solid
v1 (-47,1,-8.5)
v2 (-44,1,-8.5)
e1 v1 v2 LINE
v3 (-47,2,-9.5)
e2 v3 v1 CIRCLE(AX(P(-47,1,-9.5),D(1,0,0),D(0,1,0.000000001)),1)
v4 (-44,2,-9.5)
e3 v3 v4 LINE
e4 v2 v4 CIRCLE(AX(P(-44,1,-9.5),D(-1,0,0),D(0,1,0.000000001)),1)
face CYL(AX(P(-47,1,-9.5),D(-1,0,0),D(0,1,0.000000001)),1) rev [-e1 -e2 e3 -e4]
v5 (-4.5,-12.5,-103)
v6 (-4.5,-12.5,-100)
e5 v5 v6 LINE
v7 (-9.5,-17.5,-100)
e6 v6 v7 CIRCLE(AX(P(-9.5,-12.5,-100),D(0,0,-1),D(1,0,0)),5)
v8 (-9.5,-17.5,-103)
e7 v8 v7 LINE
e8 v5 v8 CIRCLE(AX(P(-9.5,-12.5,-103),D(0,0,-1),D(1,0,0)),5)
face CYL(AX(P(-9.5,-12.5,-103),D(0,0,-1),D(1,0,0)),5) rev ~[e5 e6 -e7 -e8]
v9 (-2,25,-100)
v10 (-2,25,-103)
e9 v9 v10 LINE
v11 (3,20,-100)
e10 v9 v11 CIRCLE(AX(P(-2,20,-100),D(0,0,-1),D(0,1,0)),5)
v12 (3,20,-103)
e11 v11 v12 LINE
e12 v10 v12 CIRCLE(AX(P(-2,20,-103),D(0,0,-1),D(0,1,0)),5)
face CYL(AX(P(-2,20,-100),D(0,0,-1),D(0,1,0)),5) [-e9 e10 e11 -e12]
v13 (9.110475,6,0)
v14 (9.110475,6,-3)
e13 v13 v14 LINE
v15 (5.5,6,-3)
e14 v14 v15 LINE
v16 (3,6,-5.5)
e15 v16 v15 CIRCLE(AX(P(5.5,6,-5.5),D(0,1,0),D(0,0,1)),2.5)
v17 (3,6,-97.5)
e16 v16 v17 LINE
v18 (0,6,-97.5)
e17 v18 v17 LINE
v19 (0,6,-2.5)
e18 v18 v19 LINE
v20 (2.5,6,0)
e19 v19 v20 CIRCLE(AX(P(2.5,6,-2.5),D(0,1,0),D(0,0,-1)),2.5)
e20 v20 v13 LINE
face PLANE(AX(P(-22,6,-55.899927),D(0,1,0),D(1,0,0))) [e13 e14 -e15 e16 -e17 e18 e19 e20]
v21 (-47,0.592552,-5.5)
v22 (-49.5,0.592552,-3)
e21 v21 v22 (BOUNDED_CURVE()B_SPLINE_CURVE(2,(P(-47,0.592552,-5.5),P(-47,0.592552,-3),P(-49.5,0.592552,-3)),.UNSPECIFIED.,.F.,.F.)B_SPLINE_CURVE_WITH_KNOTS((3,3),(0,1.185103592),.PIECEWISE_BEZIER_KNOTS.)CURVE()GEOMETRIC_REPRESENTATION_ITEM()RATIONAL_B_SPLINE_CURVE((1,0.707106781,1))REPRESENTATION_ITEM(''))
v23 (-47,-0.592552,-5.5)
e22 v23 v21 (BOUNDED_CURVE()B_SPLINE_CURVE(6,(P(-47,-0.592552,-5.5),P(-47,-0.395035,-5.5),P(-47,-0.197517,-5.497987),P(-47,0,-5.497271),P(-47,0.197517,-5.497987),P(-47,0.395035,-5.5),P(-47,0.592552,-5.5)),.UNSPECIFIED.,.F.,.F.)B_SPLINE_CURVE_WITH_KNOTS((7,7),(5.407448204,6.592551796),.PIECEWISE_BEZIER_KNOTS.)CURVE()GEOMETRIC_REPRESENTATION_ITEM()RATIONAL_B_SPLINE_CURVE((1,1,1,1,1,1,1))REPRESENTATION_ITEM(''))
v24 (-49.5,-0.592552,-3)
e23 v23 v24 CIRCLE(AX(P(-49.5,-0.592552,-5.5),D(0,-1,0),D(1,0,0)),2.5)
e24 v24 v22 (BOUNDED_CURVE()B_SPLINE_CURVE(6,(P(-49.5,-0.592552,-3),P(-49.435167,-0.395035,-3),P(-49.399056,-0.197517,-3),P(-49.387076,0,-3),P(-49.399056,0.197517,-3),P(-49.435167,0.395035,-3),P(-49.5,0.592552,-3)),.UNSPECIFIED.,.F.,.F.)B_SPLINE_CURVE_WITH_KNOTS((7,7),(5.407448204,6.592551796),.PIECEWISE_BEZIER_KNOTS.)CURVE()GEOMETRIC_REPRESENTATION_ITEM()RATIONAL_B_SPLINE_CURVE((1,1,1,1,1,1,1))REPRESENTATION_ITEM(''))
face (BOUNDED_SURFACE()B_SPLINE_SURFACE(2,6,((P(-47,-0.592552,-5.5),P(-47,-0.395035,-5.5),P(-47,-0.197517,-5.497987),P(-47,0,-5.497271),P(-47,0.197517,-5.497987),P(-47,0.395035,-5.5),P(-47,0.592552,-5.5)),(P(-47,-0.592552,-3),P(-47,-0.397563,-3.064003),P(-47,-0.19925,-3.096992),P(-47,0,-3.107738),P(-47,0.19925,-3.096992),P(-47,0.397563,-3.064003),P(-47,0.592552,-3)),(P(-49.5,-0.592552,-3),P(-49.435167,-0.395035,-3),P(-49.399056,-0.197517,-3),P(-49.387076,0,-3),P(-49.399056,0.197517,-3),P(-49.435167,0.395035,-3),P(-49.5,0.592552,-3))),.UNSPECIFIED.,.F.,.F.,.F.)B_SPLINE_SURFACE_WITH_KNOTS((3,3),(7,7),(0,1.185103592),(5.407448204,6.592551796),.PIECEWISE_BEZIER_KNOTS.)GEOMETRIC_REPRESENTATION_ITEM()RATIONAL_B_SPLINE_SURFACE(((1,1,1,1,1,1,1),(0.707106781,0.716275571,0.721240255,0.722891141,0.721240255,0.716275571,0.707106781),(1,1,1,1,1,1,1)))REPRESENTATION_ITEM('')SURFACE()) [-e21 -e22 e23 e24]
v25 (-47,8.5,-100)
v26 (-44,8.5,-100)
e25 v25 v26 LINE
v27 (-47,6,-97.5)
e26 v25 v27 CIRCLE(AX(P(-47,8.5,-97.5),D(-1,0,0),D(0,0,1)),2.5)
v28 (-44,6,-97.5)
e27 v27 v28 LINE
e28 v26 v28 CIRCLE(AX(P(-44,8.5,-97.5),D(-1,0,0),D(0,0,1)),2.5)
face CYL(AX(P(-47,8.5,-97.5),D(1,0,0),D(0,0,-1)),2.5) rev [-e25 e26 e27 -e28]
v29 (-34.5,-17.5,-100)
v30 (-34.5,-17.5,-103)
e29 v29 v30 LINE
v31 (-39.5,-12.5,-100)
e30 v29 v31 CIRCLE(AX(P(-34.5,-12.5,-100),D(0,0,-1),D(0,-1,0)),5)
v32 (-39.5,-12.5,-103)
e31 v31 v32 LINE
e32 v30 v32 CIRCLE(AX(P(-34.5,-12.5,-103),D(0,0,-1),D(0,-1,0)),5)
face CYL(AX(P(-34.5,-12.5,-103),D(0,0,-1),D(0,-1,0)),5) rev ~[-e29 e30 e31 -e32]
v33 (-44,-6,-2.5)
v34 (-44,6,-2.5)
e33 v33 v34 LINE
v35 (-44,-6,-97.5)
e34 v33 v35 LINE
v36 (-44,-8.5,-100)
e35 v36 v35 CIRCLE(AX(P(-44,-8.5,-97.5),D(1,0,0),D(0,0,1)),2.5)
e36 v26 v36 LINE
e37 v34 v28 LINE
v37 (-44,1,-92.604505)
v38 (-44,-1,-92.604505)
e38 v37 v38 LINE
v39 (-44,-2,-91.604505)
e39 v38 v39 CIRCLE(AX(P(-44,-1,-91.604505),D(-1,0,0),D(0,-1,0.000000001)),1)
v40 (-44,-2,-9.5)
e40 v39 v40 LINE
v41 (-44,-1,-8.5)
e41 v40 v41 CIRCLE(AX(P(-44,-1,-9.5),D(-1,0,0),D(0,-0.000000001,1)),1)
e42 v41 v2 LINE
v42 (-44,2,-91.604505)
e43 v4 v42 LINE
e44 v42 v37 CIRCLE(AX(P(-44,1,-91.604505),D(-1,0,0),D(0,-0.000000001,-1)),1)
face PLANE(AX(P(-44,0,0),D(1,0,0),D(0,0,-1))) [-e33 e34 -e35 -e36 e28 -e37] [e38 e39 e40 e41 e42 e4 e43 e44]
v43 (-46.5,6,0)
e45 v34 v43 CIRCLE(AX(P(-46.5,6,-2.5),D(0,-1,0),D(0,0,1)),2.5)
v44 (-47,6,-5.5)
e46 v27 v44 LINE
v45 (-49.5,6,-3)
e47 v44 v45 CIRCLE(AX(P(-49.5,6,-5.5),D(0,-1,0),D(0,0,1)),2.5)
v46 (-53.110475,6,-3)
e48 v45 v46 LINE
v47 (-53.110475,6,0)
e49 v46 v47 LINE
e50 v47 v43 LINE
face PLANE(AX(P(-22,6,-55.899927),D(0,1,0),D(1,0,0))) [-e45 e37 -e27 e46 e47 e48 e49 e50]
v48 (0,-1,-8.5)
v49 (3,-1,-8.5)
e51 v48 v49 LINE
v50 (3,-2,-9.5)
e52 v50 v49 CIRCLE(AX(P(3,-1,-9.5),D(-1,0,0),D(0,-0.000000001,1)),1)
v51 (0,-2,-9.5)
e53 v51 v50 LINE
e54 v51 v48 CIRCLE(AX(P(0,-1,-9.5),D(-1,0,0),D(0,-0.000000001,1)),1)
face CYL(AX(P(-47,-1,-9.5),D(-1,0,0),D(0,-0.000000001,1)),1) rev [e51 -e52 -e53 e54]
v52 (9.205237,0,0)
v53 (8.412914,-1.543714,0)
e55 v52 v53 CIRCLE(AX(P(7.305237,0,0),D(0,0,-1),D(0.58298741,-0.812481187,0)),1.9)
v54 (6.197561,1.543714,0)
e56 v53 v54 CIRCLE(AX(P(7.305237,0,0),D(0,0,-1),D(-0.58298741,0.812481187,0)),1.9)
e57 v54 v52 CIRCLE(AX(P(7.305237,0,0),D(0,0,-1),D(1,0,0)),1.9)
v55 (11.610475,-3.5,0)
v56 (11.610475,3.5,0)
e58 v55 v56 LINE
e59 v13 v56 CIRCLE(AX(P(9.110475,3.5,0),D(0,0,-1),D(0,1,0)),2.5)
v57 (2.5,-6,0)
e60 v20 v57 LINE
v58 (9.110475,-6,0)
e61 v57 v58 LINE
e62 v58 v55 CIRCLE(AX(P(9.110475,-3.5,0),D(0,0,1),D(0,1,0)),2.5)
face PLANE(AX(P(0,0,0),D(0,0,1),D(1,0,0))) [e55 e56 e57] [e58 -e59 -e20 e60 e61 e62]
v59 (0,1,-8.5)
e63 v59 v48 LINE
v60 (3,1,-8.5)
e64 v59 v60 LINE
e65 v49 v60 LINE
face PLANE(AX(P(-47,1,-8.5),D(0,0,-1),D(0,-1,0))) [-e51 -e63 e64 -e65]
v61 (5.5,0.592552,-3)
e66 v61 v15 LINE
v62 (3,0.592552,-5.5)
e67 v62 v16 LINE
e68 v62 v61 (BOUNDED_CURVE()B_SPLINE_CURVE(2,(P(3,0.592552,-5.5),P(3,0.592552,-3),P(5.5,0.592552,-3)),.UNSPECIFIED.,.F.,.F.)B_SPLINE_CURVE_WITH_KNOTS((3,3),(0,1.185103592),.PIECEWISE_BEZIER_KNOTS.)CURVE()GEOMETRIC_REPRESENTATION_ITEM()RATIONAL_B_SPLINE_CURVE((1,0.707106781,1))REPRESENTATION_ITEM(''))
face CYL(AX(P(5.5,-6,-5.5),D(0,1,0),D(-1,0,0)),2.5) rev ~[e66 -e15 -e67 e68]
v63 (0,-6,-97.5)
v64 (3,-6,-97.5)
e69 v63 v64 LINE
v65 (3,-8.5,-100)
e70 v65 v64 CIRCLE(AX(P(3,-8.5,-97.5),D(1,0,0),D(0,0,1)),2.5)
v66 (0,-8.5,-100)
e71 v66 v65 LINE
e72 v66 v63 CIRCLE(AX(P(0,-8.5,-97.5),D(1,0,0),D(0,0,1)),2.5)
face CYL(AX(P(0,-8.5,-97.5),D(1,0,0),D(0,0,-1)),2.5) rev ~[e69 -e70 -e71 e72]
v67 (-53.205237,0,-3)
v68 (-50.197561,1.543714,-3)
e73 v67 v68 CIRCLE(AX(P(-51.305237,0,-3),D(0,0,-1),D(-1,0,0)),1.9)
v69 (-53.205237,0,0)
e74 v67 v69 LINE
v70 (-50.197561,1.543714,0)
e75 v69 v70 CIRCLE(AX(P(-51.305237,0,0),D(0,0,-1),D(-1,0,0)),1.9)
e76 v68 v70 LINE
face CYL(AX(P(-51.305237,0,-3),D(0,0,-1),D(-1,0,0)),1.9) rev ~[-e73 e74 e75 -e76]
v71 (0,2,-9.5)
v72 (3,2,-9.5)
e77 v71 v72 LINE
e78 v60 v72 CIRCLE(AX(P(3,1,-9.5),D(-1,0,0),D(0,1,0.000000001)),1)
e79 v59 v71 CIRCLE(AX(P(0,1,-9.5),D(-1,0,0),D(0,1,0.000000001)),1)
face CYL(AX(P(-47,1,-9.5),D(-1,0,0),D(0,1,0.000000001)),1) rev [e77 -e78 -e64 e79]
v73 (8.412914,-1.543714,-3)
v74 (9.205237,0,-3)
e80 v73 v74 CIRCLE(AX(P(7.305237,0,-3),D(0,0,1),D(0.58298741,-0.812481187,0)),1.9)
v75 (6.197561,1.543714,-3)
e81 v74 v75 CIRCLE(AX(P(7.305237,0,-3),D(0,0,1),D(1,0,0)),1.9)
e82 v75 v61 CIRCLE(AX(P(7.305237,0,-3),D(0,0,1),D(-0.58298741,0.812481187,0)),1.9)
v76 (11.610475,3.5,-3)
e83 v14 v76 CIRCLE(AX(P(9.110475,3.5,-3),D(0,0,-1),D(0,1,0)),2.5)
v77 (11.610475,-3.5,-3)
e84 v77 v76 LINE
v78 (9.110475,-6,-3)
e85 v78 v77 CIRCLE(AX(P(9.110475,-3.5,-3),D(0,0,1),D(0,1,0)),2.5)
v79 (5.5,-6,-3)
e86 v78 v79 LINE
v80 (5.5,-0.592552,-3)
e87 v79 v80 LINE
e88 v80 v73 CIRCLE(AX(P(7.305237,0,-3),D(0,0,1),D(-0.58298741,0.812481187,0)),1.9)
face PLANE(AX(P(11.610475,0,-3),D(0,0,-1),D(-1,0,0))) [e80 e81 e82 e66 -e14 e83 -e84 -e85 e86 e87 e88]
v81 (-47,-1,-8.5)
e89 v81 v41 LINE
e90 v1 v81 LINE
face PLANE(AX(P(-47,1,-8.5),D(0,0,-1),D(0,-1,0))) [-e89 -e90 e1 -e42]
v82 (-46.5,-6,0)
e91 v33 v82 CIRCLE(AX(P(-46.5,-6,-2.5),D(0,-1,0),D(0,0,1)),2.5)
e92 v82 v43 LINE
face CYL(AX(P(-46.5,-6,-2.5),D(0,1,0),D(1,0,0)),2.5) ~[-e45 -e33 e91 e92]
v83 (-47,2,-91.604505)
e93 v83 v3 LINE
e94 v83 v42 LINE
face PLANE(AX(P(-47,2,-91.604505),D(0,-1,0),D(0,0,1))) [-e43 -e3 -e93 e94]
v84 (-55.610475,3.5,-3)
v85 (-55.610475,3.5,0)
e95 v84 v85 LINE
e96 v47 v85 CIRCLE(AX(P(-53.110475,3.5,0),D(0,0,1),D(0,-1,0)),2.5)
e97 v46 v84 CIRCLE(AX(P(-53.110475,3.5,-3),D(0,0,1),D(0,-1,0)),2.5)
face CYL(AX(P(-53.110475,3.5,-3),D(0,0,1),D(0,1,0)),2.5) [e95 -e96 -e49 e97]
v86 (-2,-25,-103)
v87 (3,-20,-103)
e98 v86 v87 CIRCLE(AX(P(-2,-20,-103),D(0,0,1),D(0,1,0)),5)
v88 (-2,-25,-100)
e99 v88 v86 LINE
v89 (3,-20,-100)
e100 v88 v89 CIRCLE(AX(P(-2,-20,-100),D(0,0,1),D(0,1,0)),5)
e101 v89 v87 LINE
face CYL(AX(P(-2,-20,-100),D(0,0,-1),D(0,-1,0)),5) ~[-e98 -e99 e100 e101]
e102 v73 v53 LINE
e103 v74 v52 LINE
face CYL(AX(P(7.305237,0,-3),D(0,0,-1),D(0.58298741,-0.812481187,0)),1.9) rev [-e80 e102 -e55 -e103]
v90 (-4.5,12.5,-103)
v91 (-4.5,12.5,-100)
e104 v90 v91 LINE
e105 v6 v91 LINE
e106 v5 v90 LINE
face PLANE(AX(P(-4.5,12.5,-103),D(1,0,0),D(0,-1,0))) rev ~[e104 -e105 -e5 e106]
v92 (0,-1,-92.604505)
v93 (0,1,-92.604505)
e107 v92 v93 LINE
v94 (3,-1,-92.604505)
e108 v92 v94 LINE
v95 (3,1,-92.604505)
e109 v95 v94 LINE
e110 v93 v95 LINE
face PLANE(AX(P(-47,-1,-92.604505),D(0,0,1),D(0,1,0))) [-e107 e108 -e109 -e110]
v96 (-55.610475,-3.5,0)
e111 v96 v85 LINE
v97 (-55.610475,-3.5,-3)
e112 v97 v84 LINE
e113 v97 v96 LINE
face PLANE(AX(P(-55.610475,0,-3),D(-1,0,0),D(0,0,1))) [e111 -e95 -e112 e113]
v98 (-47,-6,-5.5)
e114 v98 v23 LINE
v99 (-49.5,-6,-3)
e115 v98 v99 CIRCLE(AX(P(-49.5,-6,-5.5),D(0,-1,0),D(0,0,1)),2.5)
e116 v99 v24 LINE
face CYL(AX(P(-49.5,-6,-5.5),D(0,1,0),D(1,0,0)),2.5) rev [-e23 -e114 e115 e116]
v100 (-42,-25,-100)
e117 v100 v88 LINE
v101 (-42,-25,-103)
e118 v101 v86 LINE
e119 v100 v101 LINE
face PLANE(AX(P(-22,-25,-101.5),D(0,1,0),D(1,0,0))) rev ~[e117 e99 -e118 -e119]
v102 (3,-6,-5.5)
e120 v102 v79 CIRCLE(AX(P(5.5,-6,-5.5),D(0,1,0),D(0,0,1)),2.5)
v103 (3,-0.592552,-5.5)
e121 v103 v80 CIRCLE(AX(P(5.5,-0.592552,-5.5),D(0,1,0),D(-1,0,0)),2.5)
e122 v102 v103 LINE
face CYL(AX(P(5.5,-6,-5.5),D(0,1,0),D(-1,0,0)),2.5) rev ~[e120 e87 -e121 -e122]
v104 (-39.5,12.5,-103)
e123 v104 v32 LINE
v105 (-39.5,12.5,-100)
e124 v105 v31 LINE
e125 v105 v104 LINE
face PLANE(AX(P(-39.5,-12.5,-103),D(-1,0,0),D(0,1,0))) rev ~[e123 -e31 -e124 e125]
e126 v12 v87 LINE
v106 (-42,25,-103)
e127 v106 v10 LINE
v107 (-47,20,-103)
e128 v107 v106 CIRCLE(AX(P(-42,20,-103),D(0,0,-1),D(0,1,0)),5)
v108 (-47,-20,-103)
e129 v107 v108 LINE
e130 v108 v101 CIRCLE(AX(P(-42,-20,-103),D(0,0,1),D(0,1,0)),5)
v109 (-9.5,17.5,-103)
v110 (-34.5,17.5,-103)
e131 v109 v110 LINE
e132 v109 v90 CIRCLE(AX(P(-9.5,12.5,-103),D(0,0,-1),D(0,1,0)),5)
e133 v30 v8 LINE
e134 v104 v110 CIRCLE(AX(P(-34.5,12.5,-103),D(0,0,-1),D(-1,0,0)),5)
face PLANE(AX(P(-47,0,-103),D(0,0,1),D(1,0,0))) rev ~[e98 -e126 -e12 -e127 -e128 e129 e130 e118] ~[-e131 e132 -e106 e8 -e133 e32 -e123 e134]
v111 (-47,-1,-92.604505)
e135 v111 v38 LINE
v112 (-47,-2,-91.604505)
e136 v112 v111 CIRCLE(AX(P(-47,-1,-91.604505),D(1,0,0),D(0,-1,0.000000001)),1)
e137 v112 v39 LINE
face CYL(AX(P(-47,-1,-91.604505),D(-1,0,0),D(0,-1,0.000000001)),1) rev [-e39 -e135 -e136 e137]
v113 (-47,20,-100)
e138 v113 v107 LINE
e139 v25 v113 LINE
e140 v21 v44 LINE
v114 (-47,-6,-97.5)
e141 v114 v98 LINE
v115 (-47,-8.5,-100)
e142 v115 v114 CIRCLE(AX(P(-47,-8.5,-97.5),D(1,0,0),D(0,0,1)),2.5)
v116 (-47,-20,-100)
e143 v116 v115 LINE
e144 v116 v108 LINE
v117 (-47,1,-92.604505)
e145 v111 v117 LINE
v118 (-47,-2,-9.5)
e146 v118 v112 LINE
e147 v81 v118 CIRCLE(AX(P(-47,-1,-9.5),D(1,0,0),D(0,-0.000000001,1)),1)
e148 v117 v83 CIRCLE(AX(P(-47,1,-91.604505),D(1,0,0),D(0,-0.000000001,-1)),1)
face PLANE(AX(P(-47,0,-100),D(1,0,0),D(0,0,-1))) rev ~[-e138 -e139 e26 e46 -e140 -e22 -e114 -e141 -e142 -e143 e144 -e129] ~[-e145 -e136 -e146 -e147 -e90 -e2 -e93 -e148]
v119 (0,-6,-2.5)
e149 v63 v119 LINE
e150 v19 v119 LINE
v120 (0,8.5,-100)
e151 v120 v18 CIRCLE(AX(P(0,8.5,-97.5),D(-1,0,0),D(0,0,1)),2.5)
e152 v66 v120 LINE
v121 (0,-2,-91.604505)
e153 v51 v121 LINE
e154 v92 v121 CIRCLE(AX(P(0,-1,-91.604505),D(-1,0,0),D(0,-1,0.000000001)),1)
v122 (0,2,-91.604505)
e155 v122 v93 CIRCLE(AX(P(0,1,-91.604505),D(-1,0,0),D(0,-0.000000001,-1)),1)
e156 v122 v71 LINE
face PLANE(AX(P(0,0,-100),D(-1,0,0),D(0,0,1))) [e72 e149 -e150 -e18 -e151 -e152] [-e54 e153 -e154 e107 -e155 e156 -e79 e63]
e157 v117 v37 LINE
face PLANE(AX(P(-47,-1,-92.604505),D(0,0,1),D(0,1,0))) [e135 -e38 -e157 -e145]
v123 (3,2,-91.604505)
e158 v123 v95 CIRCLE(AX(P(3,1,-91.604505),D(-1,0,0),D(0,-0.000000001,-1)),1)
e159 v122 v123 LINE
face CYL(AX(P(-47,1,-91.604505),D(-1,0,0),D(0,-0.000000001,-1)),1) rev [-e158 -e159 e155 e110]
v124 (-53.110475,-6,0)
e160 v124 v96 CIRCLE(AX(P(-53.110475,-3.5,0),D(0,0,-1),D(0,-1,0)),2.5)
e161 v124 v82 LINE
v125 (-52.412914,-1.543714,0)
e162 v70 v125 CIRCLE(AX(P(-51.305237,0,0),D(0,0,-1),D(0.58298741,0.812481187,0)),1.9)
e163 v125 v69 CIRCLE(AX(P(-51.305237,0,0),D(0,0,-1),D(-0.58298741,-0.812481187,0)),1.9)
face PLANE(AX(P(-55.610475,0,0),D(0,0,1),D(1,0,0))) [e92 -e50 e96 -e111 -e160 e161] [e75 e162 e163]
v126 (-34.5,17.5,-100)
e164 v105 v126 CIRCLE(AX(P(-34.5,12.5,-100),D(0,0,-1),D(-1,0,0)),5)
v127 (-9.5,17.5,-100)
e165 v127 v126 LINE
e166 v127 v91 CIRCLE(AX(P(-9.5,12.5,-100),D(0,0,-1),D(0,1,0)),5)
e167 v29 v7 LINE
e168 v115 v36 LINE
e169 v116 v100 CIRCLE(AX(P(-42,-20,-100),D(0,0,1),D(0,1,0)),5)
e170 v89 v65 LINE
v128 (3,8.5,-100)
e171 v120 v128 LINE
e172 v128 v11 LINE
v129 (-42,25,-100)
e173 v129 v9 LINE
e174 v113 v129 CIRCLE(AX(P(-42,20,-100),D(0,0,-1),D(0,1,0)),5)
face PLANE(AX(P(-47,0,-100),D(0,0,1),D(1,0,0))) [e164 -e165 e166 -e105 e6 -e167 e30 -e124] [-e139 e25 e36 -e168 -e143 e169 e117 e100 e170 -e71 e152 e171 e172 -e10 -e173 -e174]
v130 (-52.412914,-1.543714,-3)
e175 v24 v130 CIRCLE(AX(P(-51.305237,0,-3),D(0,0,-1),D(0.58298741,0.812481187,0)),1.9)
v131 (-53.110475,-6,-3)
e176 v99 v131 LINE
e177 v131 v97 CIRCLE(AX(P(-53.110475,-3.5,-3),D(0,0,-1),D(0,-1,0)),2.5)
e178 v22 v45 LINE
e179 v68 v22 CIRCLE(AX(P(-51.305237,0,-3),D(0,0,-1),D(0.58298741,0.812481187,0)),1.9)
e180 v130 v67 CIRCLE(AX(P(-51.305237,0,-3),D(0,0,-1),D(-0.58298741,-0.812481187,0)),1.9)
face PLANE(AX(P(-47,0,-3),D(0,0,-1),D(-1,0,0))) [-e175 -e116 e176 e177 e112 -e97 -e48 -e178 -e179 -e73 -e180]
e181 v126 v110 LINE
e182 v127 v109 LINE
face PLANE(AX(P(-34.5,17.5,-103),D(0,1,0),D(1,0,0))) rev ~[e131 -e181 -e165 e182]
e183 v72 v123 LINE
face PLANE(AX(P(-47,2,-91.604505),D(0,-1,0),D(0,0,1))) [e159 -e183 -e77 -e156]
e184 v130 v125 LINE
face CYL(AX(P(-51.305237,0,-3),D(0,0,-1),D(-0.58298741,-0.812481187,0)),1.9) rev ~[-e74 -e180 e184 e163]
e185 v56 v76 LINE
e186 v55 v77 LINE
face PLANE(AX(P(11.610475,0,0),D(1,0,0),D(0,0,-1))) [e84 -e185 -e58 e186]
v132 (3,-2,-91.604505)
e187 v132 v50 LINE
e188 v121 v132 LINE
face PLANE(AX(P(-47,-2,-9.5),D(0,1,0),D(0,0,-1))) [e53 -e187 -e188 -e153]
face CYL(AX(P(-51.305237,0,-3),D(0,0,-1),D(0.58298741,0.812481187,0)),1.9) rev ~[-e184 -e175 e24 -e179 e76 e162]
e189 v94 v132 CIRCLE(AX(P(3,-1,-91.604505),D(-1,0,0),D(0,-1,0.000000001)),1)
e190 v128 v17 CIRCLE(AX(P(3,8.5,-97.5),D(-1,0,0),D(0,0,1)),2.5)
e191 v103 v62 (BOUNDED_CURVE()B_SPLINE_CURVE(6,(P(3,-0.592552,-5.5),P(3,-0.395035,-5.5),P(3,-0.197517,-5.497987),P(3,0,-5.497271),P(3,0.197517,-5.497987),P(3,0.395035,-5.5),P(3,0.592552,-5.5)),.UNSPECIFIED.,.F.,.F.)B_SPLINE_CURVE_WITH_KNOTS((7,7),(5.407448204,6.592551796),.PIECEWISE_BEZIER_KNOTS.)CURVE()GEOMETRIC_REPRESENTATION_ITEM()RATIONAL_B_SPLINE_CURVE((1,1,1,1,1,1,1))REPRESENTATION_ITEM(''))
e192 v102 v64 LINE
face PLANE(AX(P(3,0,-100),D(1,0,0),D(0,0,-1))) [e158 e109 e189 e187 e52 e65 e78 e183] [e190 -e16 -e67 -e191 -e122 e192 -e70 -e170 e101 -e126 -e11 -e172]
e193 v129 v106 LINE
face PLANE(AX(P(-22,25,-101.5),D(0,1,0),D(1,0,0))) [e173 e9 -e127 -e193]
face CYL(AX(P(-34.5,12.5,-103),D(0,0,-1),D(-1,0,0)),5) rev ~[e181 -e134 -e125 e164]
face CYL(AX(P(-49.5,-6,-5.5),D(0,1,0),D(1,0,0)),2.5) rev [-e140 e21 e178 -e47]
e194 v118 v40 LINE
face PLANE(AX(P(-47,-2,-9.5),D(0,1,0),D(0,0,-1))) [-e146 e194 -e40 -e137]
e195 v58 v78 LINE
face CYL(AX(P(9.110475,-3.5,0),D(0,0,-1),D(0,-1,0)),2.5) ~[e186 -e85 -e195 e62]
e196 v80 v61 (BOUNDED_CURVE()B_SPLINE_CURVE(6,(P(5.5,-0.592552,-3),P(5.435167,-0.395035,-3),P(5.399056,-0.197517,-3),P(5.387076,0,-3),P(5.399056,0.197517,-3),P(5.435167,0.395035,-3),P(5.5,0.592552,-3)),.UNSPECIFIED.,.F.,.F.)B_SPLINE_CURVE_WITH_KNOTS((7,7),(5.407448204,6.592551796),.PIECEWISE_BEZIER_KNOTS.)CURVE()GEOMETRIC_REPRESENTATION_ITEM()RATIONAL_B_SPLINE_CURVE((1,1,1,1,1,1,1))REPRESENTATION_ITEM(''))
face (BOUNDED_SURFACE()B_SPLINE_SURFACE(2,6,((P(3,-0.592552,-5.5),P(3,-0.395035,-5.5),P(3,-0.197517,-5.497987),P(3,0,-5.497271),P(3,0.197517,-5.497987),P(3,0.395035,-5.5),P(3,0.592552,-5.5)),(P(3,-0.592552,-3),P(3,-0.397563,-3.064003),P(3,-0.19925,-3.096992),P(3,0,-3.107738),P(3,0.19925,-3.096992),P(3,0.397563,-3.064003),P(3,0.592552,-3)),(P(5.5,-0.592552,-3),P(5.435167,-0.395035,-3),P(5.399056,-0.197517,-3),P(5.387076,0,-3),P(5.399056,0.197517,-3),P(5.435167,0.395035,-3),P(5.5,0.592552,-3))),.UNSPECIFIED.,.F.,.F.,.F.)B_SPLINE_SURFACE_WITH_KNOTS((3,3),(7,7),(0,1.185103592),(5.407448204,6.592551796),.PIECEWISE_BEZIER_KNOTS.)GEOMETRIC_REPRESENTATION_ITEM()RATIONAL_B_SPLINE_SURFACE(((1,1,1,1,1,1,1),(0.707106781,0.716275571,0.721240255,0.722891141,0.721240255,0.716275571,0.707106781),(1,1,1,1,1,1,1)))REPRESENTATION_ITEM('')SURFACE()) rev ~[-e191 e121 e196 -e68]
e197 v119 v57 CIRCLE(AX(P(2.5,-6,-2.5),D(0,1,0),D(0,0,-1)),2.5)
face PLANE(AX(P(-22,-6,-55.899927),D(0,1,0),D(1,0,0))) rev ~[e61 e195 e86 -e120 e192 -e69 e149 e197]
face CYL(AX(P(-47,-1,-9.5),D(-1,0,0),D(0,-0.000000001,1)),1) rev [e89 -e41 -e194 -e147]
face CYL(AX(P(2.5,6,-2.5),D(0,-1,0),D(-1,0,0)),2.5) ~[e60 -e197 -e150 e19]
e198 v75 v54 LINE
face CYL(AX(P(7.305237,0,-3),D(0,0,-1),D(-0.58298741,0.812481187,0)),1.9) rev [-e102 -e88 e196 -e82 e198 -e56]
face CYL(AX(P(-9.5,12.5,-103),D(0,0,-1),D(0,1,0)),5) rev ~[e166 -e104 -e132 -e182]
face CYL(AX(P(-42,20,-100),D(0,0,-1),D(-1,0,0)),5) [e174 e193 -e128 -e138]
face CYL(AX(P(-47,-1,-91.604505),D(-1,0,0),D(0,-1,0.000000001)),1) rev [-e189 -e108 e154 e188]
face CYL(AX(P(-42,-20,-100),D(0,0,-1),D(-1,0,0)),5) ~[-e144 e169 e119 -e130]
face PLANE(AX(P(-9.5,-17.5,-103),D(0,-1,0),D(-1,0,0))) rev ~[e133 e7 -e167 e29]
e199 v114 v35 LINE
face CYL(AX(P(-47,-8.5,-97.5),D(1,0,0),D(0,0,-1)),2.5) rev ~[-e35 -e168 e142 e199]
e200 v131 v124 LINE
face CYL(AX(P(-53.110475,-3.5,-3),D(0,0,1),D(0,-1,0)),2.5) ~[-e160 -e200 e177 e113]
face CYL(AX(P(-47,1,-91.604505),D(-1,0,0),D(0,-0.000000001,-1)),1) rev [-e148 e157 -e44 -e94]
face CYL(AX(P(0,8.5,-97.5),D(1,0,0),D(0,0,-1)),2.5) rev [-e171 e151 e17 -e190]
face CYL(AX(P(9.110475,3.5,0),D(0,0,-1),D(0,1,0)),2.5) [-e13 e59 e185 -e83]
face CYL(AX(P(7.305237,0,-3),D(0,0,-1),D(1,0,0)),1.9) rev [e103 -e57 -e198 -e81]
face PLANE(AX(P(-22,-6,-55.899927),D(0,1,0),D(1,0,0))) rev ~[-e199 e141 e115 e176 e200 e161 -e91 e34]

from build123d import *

# Parameters (mm, degrees)
BOSS_EXTRUDE1_DEPTH = 6
SKETCH2_W           = 50
SKETCH2_H           = 3
BOSS_EXTRUDE2_DEPTH = 25
CUT_EXTRUDE1_DEPTH  = 50
CUT_EXTRUDE2_DEPTH  = 25
FILLET1_R           = 5
FILLET2_R           = 2.5
CUT_EXTRUDE3_DEPTH  = 88


with BuildPart() as part:
    # Sketch1 → Boss-Extrude1 (new, symmetric)
    with BuildSketch(Plane(origin=(0, 0, 0), x_dir=(1, 0, 0), z_dir=(0, 1, 0))):
        Polygon((0, 0), (11.610474965, 0), (11.610474965, 3), (3, 3), (3, 100), (3, 103), (-47, 103), (-47, 100), (-47, 3), (-55.610474965, 3), (-55.610474965, 0), (-44, 0), (-44, 100), (0, 100), align=None)
    extrude(amount=BOSS_EXTRUDE1_DEPTH, both=True)

    # Sketch2 → Boss-Extrude2 (add, symmetric)
    with BuildSketch(Plane(origin=(0, 0, 0), x_dir=(1, 0, 0), z_dir=(0, 1, 0))):
        with Locations((-22, 101.5)):
            Rectangle(SKETCH2_W, SKETCH2_H)
    extrude(amount=BOSS_EXTRUDE2_DEPTH, both=True)

    # Sketch4 → Cut-Extrude1 (cut)
    with BuildSketch(Plane(origin=(0, 0, -3), x_dir=(-1, 0, 0), z_dir=(0, 0, -1))):
        with BuildLine():
            ThreePointArc((53.205237482, 0), (52.172824783, 1.690352707), (50.197561403, 1.543714256))
            Line((50.197561403, 1.543714256), (52.412913562, -1.543714256))
            ThreePointArc((52.412913562, -1.543714256), (52.99559019, -0.867587301), (53.205237482, 0))
        make_face()
        with BuildLine():
            Line((52.412913562, -1.543714256), (50.197561403, 1.543714256))
            ThreePointArc((50.197561403, 1.543714256), (49.761523227, -1.107676079), (52.412913562, -1.543714256))
        make_face()
    cut_extrude1 = extrude(amount=-CUT_EXTRUDE1_DEPTH, mode=Mode.SUBTRACT)

    # Mirror1: Cut-Extrude1 across plane
    add(cut_extrude1.mirror(Plane(origin=(-22, 0, 0), x_dir=(0, 0, 1), z_dir=(1, 0, 0))), mode=Mode.SUBTRACT)

    # Sketch6 → Cut-Extrude2 (cut, symmetric)
    with BuildSketch(Plane(origin=(0, 0, -103), x_dir=(-1, 0, 0), z_dir=(0, 0, -1))):
        with BuildLine():
            Line((9.5, -17.5), (34.5, -17.5))
            ThreePointArc((34.5, -17.5), (38.035533906, -16.035533906), (39.5, -12.5))
            Line((39.5, -12.5), (39.5, 12.5))
            ThreePointArc((39.5, 12.5), (38.035533906, 16.035533906), (34.5, 17.5))
            Line((34.5, 17.5), (9.5, 17.5))
            ThreePointArc((9.5, 17.5), (5.964466094, 16.035533906), (4.5, 12.5))
            Line((4.5, 12.5), (4.5, -12.5))
            ThreePointArc((4.5, -12.5), (5.964466094, -16.035533906), (9.5, -17.5))
        make_face()
    extrude(amount=CUT_EXTRUDE2_DEPTH, both=True, mode=Mode.SUBTRACT)

    # Fillet1
    fillet1_edges = [part.edges().sort_by_distance(p)[0] for p in [
        (3, 25, -101.5),
        (-47, -25, -101.5),
        (-47, 25, -101.5),
        (3, -25, -101.5),
    ]]
    fillet(fillet1_edges, radius=FILLET1_R)

    # Fillet2
    fillet2_edges = [part.edges().sort_by_distance(p)[0] for p in [
        (11.610474965, 6, -1.5),
        (-55.610474965, -6, -1.5),
        (11.610474965, -6, -1.5),
        (-44, 0, 0),
        (-47, 0, -3),
        (3, 0, -3),
        (0, 0, 0),
        (1.5, -6, -100),
        (-45.5, -6, -100),
        (-55.610474965, 6, -1.5),
        (-45.5, 6, -100),
        (1.5, 6, -100),
    ]]
    fillet(fillet2_edges, radius=FILLET2_R)

    # Sketch7 → Cut-Extrude3 (cut)
    with BuildSketch(Plane.ZY.offset(47)):
        with BuildLine():
            Line((-91.604504773, 2), (-9.5, 2))
            ThreePointArc((-9.5, 2), (-8.792893219, 1.707106781), (-8.5, 1))
            Line((-8.5, 1), (-8.5, -1))
            ThreePointArc((-8.5, -1), (-8.792893219, -1.707106781), (-9.5, -2))
            Line((-9.5, -2), (-91.604504773, -2))
            ThreePointArc((-91.604504773, -2), (-92.311611555, -1.707106781), (-92.604504773, -1))
            Line((-92.604504773, -1), (-92.604504773, 1))
            ThreePointArc((-92.604504773, 1), (-92.311611555, 1.707106781), (-91.604504773, 2))
        make_face()
    extrude(amount=-CUT_EXTRUDE3_DEPTH, mode=Mode.SUBTRACT)


solid = part.part
